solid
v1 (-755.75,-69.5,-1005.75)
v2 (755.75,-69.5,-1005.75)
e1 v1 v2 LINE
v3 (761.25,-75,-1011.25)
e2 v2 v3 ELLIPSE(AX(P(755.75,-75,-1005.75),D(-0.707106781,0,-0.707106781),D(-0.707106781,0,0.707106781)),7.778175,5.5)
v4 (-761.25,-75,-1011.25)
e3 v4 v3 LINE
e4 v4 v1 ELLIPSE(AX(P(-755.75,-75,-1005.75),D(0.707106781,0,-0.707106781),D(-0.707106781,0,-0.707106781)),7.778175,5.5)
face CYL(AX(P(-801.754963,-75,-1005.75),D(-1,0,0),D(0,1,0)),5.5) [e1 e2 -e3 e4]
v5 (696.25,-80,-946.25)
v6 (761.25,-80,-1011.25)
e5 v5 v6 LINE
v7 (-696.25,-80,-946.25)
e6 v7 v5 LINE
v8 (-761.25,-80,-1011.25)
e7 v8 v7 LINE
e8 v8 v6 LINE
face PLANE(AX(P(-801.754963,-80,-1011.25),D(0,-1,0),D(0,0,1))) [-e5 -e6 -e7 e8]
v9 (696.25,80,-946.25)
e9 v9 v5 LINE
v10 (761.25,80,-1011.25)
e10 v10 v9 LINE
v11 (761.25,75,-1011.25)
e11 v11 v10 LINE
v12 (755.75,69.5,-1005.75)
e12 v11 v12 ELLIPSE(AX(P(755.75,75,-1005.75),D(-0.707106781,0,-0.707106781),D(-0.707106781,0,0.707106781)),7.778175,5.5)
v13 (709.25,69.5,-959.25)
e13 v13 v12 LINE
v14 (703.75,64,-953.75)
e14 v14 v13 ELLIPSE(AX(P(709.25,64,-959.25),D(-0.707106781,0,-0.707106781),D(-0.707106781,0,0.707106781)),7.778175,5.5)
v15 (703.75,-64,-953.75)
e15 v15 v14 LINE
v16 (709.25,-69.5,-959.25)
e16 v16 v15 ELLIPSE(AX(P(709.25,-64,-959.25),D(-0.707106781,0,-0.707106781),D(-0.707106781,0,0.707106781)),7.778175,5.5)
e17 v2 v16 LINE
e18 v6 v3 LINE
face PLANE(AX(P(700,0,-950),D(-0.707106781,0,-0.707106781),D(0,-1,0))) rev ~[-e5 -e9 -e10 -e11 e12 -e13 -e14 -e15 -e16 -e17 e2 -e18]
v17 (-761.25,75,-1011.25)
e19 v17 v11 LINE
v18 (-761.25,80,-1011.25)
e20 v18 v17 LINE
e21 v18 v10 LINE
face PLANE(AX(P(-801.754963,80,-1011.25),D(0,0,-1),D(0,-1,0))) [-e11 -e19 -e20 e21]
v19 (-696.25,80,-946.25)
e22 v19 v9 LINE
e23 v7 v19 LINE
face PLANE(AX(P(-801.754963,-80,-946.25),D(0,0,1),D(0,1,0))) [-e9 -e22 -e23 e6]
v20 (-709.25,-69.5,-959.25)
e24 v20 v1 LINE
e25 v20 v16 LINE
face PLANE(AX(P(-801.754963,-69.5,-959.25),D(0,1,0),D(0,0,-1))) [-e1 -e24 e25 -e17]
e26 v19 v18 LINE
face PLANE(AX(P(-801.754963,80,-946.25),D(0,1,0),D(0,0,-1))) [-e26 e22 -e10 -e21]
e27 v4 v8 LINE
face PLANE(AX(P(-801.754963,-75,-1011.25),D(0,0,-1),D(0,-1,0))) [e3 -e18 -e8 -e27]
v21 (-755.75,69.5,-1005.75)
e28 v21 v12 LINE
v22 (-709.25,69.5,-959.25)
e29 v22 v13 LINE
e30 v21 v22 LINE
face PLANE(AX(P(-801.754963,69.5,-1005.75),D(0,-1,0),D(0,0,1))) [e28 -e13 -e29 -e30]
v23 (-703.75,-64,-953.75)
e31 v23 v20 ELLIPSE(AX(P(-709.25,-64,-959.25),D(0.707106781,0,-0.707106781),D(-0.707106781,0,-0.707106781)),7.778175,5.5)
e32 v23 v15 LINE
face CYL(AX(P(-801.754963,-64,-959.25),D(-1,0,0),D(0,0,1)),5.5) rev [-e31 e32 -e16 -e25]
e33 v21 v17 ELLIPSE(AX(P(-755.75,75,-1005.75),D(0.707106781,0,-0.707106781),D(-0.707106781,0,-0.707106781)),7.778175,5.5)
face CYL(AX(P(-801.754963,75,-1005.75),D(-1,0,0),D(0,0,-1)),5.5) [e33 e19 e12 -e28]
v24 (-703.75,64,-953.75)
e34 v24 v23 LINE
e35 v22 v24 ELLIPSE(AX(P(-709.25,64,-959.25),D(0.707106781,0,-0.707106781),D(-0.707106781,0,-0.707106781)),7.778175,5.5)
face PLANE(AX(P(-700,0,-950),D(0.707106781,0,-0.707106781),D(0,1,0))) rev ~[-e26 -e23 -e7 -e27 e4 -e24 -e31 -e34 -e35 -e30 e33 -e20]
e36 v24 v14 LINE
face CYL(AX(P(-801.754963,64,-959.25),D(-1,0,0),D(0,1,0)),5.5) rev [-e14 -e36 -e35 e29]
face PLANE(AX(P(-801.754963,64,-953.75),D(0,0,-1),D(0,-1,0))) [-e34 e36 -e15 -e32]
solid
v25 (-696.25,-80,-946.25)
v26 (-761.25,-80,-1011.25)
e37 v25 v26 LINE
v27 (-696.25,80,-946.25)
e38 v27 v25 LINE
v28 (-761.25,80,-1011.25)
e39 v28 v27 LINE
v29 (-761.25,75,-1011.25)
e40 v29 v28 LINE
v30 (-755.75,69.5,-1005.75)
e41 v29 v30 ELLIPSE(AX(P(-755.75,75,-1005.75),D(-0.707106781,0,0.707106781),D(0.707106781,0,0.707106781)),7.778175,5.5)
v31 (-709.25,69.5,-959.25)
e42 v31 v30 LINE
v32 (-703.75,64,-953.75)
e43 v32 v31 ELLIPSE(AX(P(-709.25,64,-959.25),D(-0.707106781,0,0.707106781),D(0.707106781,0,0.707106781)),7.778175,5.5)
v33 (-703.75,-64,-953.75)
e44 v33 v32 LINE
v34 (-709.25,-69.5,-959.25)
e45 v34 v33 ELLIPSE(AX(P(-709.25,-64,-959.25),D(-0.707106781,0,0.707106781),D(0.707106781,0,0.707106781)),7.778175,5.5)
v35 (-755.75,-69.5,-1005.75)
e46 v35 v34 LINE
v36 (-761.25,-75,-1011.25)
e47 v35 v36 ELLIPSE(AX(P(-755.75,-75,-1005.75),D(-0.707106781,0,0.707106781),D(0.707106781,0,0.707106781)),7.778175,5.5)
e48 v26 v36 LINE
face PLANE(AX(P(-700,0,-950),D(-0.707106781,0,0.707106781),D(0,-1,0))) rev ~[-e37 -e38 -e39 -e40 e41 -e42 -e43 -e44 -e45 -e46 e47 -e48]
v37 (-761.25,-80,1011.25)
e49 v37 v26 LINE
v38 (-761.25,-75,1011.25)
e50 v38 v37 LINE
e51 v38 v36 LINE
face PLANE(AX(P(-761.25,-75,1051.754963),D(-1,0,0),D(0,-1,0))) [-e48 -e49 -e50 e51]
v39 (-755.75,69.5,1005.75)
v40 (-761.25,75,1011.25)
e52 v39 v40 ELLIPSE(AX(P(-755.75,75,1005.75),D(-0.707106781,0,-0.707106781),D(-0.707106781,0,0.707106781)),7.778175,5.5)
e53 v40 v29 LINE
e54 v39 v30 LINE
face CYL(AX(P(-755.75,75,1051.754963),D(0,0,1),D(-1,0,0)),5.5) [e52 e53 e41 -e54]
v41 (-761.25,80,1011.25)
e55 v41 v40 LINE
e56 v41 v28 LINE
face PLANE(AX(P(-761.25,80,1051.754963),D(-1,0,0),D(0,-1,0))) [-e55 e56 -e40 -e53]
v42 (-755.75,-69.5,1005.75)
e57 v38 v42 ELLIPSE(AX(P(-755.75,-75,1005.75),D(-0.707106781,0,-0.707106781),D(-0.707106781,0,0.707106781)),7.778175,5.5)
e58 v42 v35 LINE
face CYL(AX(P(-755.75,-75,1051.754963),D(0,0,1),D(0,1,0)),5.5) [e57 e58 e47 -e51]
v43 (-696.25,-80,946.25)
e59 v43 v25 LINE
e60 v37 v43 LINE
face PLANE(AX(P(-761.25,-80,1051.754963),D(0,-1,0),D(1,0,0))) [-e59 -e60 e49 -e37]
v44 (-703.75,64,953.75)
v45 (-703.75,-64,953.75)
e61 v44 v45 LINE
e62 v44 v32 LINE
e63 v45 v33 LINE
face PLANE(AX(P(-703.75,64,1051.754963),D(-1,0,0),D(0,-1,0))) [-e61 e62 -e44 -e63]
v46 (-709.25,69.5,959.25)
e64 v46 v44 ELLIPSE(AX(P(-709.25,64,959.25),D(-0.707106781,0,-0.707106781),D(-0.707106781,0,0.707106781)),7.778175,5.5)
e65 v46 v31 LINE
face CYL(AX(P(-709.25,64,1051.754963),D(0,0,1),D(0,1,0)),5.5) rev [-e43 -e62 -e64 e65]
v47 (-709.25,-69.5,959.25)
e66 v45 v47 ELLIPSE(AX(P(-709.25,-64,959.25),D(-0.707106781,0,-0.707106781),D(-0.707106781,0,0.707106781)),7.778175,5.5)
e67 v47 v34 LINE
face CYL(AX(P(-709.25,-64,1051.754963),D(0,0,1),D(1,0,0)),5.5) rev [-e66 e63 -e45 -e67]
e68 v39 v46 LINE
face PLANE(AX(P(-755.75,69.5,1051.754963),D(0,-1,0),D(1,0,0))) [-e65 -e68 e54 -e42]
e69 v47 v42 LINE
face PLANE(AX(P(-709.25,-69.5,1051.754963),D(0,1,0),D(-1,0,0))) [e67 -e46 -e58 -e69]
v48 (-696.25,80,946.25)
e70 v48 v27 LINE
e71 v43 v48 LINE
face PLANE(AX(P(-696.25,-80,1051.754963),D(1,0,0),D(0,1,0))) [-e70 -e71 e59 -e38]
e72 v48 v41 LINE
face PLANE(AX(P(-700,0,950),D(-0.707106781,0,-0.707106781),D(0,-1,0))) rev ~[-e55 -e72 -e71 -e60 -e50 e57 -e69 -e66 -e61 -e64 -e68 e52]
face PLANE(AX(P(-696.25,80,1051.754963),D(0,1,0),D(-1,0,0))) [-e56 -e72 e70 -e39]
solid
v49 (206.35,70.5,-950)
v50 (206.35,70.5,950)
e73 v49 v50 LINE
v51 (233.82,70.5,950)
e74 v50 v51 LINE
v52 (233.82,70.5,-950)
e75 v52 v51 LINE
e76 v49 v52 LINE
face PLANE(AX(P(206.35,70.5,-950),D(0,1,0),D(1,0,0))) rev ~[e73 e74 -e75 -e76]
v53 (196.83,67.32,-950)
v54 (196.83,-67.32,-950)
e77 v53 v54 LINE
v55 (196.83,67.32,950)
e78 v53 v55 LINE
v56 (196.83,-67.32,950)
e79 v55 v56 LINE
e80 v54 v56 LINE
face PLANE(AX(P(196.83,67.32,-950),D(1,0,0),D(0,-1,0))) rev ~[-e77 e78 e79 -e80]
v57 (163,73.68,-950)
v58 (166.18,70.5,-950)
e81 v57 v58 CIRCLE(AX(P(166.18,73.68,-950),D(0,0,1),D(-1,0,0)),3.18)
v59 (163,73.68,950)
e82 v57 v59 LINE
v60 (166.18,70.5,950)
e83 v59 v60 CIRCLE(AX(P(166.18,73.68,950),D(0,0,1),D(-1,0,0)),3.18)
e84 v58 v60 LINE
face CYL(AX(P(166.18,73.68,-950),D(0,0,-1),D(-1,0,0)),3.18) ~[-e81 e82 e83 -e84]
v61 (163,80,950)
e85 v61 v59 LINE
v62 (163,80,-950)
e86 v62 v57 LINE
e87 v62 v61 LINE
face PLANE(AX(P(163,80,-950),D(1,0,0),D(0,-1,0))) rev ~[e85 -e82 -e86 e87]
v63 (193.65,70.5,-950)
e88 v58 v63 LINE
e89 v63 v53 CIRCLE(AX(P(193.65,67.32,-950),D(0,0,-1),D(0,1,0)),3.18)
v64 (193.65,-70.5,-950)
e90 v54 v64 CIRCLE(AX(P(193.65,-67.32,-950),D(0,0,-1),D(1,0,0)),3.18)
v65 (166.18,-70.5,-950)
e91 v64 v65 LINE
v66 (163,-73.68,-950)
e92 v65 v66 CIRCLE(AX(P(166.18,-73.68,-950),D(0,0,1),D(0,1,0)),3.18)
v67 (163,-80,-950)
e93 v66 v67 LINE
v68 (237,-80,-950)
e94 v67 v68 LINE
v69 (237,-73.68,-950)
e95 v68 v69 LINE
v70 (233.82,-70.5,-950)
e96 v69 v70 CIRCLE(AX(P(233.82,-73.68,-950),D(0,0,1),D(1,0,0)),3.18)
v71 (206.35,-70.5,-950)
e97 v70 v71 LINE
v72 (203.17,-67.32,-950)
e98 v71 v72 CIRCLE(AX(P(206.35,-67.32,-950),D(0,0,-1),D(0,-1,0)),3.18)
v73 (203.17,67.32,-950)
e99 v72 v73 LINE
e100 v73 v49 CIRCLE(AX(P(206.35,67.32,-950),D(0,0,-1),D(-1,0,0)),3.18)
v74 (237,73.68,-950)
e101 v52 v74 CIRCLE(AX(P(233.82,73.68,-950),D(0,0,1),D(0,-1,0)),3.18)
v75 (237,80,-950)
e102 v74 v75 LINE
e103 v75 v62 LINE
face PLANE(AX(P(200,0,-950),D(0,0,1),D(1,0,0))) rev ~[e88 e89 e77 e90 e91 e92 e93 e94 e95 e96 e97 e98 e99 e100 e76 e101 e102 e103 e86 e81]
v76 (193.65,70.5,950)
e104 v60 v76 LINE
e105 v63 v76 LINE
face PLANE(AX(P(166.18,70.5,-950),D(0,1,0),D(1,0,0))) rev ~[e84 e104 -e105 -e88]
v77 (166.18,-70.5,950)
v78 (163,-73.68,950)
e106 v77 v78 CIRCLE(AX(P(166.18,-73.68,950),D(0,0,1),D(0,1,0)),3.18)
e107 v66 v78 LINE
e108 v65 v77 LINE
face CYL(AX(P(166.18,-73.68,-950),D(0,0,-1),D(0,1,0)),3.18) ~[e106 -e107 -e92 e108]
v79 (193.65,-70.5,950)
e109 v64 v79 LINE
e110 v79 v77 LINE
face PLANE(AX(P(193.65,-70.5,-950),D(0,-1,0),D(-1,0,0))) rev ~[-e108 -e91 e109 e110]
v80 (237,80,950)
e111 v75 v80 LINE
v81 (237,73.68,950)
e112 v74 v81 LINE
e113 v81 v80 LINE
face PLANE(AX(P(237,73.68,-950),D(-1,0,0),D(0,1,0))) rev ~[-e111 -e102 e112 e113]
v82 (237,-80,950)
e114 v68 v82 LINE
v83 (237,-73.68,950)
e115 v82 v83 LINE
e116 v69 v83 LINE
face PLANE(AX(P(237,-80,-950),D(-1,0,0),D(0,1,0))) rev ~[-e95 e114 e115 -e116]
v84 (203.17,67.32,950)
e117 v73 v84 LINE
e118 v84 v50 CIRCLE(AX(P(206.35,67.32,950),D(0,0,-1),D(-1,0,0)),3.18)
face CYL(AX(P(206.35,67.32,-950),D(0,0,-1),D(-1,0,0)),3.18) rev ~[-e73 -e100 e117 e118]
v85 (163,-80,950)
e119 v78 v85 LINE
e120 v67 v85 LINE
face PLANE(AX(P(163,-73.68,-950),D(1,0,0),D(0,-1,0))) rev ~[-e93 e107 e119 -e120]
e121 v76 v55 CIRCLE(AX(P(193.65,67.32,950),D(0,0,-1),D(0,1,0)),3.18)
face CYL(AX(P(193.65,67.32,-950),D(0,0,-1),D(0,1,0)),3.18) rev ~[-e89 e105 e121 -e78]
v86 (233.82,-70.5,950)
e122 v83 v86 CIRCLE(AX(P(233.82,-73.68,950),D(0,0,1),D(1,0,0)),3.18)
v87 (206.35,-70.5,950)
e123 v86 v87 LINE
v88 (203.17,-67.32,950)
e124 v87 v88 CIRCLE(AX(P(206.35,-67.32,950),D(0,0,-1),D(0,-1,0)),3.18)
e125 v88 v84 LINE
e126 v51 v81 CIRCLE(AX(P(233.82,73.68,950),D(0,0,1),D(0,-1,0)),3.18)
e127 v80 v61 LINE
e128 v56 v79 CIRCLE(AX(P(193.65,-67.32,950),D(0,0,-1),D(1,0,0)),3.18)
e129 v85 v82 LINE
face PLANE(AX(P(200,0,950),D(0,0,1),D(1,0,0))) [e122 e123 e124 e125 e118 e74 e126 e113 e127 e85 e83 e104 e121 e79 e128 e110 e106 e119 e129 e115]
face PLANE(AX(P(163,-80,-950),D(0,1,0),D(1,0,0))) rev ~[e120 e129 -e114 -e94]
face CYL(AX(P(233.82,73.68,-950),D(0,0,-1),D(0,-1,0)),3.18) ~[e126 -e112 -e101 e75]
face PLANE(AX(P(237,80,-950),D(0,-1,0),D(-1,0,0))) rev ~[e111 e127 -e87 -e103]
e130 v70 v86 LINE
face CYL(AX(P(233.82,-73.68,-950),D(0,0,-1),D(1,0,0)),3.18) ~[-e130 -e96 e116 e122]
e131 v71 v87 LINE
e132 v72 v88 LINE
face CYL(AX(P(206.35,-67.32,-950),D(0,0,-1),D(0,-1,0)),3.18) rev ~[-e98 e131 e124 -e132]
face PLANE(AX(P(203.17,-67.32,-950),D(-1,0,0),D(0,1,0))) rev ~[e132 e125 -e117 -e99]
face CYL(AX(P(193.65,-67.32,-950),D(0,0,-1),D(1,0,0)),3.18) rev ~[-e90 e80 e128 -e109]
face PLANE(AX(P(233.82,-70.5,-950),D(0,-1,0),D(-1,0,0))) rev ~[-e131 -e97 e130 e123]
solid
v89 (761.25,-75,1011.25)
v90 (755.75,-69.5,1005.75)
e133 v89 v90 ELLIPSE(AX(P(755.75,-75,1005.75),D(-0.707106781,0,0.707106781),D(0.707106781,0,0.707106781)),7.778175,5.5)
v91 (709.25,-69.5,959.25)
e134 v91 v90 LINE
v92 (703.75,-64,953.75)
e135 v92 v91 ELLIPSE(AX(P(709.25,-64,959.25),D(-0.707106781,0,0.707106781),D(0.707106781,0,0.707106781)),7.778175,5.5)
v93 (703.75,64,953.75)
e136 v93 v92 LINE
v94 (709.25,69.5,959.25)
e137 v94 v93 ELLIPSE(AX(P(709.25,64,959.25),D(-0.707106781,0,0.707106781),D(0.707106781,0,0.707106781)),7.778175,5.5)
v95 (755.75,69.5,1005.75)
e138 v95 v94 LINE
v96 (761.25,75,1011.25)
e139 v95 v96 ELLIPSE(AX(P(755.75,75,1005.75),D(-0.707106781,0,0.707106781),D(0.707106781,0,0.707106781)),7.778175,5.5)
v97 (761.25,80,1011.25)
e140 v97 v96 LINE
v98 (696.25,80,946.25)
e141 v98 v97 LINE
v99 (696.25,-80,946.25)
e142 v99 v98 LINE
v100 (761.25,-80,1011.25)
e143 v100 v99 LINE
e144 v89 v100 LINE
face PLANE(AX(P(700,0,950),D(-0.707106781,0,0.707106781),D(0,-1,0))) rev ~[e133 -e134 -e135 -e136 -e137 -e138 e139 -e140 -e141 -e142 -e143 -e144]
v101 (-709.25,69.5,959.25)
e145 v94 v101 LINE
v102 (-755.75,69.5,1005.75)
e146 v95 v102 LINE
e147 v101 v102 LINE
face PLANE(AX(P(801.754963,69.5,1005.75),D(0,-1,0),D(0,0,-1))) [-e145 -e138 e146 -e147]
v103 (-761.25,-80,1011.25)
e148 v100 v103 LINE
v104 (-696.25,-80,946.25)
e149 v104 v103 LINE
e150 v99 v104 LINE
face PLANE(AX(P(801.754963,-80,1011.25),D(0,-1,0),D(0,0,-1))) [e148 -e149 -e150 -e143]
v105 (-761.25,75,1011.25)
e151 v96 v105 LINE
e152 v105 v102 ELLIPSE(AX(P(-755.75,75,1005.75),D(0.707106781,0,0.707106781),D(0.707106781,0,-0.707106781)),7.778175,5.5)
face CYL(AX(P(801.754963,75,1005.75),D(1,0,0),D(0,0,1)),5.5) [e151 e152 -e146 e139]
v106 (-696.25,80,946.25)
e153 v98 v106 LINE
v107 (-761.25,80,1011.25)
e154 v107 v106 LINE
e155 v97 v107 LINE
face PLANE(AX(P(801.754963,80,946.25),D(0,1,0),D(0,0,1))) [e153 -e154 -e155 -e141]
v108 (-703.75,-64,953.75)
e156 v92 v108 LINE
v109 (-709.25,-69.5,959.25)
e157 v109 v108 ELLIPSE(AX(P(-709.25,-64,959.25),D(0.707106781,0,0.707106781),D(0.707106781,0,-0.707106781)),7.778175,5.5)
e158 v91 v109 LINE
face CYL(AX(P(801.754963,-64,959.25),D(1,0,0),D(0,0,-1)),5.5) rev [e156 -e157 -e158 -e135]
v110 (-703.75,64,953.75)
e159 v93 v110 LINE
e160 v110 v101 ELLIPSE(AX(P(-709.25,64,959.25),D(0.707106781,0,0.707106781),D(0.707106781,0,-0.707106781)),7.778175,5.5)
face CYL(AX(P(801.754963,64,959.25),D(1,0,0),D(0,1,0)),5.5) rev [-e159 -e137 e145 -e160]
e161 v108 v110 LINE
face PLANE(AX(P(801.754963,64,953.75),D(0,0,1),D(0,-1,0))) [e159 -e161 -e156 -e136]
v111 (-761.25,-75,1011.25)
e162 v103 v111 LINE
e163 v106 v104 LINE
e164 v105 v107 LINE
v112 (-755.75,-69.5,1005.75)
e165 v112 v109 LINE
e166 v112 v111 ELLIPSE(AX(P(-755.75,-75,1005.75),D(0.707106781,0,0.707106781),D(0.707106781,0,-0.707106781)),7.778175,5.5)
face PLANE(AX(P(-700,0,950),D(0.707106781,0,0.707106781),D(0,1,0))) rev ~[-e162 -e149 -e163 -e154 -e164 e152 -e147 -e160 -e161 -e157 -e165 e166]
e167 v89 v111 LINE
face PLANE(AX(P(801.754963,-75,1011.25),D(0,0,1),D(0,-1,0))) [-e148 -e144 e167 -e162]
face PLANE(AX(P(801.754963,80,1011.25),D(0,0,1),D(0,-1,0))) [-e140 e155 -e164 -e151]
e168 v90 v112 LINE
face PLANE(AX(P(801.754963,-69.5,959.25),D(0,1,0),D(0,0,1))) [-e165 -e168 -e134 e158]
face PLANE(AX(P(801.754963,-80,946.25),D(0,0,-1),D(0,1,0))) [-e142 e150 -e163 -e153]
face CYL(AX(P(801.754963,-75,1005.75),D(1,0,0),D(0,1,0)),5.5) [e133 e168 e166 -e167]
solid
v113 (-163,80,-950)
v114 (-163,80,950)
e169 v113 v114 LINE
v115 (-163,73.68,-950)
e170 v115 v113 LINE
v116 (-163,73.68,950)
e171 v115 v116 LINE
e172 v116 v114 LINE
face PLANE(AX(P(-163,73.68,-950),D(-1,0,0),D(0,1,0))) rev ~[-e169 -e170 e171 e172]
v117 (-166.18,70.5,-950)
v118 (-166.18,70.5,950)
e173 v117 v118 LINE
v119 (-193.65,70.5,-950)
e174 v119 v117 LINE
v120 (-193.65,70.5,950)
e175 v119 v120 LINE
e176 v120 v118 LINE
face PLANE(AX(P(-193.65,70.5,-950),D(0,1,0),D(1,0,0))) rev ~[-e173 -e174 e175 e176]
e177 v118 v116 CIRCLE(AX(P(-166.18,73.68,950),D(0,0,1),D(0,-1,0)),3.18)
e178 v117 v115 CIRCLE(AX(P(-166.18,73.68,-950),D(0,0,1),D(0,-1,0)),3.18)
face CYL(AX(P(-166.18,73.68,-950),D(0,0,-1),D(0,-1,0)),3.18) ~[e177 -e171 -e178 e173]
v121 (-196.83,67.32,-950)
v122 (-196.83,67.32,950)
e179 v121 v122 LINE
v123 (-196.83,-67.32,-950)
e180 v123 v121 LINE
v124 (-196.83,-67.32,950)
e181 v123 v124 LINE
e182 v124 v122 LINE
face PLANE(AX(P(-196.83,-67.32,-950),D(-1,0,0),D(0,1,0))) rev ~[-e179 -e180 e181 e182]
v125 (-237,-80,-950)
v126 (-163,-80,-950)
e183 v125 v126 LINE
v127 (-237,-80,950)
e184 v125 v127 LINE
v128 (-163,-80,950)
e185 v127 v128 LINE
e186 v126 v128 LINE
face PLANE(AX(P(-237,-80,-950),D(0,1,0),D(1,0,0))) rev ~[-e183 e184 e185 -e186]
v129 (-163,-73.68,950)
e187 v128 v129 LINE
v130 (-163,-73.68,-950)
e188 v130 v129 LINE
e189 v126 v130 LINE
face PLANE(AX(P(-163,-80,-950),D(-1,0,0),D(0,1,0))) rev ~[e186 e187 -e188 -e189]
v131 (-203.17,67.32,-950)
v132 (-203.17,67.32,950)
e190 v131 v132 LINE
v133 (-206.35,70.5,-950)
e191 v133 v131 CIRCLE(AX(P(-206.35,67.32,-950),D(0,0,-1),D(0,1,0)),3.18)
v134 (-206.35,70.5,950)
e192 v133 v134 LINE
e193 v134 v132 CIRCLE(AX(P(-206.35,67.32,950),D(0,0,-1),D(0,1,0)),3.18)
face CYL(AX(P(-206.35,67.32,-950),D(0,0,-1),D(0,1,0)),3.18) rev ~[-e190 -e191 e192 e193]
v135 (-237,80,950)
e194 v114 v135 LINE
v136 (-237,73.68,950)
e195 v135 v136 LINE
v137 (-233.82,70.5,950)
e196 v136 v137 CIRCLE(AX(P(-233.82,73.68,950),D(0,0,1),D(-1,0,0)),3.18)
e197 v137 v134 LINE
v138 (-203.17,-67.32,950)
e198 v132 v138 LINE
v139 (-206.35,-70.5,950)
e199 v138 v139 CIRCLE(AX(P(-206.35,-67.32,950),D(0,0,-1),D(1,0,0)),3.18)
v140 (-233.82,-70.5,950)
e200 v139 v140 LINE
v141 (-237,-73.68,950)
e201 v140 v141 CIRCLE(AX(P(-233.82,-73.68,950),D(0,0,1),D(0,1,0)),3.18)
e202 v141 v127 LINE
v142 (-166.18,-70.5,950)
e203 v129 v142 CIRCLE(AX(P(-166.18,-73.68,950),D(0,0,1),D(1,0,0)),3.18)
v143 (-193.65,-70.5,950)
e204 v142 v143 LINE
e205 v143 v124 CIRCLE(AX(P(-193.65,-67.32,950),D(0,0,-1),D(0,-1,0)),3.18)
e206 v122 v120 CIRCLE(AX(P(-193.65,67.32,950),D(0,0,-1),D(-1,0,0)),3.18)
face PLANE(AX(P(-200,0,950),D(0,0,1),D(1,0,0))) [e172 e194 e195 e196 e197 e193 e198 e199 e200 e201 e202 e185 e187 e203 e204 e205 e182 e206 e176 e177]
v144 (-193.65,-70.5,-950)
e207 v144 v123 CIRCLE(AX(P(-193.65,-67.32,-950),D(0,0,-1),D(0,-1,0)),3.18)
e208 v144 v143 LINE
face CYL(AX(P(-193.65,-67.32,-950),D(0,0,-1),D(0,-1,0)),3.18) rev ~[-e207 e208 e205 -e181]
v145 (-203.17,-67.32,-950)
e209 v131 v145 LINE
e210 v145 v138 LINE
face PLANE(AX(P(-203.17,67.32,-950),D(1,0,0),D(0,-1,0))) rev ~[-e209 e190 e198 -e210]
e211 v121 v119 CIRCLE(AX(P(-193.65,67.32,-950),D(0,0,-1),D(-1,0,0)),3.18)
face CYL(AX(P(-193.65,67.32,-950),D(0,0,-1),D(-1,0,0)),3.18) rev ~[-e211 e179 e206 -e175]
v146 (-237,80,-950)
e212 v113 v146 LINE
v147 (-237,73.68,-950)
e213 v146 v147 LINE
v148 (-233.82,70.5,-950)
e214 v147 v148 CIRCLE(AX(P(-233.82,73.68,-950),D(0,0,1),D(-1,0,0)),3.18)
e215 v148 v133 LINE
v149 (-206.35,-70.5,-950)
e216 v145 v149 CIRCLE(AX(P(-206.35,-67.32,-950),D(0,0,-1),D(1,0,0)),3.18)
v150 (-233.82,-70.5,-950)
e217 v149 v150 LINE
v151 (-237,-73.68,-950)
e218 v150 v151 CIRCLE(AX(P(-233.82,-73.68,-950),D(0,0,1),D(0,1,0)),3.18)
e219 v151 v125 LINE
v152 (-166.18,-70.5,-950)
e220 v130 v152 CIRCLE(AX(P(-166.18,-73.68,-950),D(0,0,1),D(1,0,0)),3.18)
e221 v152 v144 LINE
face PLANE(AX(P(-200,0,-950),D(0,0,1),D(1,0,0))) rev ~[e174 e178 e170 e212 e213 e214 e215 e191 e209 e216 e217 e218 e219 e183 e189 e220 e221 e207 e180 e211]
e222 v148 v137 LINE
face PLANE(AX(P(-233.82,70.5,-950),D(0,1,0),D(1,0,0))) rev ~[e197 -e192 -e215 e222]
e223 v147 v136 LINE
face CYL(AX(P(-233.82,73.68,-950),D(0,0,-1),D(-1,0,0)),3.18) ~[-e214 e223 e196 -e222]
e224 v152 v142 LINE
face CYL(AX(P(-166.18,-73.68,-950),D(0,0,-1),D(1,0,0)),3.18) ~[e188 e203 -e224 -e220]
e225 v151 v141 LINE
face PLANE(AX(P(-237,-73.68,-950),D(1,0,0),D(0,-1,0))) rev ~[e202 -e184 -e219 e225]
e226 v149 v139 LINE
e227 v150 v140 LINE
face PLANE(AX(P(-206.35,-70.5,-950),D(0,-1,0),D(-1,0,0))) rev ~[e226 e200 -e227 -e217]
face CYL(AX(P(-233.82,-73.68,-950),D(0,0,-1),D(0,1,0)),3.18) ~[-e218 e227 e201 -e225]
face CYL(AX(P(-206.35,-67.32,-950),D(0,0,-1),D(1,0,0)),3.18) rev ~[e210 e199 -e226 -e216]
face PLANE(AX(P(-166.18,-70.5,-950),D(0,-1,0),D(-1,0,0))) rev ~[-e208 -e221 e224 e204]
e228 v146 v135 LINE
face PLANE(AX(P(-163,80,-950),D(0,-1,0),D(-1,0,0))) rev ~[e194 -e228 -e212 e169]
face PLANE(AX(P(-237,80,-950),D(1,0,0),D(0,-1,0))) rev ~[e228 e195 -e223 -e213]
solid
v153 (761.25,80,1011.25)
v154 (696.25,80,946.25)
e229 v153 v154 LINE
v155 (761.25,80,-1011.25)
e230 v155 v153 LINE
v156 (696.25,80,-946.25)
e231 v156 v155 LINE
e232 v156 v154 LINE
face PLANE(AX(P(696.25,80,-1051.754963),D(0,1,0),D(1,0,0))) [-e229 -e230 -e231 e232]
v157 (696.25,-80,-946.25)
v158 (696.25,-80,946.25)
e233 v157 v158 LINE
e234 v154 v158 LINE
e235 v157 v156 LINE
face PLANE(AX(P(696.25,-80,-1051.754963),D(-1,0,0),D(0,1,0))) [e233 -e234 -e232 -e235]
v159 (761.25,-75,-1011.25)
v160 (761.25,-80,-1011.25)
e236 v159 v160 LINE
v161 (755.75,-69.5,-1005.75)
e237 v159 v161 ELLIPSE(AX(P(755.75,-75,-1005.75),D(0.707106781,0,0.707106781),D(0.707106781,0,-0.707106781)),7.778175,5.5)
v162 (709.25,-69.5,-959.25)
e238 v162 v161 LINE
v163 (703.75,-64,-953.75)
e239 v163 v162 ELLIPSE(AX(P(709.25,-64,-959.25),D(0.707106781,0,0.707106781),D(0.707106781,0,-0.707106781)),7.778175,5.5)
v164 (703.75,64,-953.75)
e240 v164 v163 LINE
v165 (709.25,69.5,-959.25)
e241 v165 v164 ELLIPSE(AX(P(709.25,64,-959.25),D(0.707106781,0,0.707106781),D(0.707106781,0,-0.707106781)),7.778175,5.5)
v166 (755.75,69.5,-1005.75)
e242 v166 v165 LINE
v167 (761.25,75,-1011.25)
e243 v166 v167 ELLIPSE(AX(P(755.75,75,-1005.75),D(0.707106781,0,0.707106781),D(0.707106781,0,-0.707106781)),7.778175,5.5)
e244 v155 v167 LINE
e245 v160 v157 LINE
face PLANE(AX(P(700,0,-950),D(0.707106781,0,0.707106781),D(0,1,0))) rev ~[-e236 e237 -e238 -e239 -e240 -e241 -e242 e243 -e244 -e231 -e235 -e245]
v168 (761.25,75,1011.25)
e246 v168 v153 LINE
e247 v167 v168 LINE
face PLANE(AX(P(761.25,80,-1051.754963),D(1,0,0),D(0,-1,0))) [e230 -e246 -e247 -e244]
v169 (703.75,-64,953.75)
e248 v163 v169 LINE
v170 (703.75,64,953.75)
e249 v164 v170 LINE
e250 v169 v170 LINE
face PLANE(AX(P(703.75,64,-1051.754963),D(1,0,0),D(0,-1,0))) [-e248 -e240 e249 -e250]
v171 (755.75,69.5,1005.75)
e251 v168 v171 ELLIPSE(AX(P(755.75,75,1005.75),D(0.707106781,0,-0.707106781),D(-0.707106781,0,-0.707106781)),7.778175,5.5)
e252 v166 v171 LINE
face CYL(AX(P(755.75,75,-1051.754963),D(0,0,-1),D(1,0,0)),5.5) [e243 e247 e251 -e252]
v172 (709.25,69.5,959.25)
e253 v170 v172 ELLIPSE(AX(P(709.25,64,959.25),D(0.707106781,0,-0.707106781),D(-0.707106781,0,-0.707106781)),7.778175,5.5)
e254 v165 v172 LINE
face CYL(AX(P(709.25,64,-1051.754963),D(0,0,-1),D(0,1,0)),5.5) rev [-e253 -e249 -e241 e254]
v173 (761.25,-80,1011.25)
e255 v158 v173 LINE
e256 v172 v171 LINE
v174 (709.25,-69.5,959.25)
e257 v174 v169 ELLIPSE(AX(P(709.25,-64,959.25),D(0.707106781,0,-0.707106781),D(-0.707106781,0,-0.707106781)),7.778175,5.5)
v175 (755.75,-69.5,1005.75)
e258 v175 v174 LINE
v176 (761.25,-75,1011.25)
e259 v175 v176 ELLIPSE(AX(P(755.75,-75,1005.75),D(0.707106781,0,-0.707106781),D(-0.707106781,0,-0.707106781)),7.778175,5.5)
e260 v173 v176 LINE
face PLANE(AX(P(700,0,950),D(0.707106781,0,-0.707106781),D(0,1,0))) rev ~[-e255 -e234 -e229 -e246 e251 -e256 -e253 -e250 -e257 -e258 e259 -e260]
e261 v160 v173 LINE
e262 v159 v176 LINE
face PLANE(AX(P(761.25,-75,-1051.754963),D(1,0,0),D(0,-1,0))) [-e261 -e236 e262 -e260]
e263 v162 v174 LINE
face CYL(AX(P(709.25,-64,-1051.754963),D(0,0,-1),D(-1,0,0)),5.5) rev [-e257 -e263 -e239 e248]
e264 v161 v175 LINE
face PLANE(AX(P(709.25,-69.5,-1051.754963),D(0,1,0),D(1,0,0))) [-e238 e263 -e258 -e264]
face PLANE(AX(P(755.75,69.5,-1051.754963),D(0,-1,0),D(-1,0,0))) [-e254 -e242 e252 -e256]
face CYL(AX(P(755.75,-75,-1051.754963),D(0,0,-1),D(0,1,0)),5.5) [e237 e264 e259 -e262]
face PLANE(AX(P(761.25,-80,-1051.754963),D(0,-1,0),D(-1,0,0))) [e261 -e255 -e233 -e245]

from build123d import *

# Parameters (mm, degrees)
MIEMBRO_ESTRUCTURAL2_DEPTH      = 2001.754962657
MIEMBRO_ESTRUCTURAL2_DEPTH_BACK = 101.754962657
MIEMBRO_ESTRUCTURAL2_2_DEPTH    = 1603.509925314
MIEMBRO_ESTRUCTURAL2_3_DEPTH    = 2103.509925314
MIEMBRO_ESTRUCTURAL2_4_DEPTH    = 1603.509925314
MIEMBRO_ESTRUCTURAL4_DEPTH      = 1900
MIEMBRO_ESTRUCTURAL4_2_DEPTH    = 1900


with BuildPart() as part:
    # Croquis12 → Miembro estructural2 (new, two sides: drawn at the far end of the back side and taken through both)
    with BuildSketch(Plane(origin=(-700, 0, 950), x_dir=(-1, 0, 0), z_dir=(0, 0, -1)).offset(-MIEMBRO_ESTRUCTURAL2_DEPTH_BACK)):
        with BuildLine():
            Line((-3.75, -80), (-3.75, 80))
            Line((-3.75, 80), (61.25, 80))
            Line((61.25, 80), (61.25, 75))
            ThreePointArc((61.25, 75), (59.639087297, 71.110912703), (55.75, 69.5))
            Line((55.75, 69.5), (9.25, 69.5))
            ThreePointArc((9.25, 69.5), (5.360912703, 67.889087297), (3.75, 64))
            Line((3.75, 64), (3.75, -64))
            ThreePointArc((3.75, -64), (5.360912703, -67.889087297), (9.25, -69.5))
            Line((9.25, -69.5), (55.75, -69.5))
            ThreePointArc((55.75, -69.5), (59.639087297, -71.110912703), (61.25, -75))
            Line((61.25, -75), (61.25, -80))
            Line((61.25, -80), (-3.75, -80))
        make_face()
    extrude(amount=MIEMBRO_ESTRUCTURAL2_DEPTH + MIEMBRO_ESTRUCTURAL2_DEPTH_BACK)

    # Miembro estructural2 mitre 1
    split(bisect_by=Plane(origin=(-700, 0, 950), x_dir=(0, -1, 0), z_dir=(-0.707106781, 0, -0.707106781)), keep=Keep.TOP)

    # Miembro estructural2 mitre 2
    split(bisect_by=Plane(origin=(-700, 0, -950), x_dir=(0, -1, 0), z_dir=(-0.707106781, 0, 0.707106781)), keep=Keep.TOP)


with BuildPart() as body_2:
    # Croquis12 on segment 2 (carried to segment 2) → Miembro estructural2 2 (new body)
    with BuildSketch(Plane(origin=(-801.754962657, 0, -950), x_dir=(0, 0, -1), z_dir=(1, 0, 0))):
        with BuildLine():
            Line((-3.75, -80), (-3.75, 80))
            Line((-3.75, 80), (61.25, 80))
            Line((61.25, 80), (61.25, 75))
            ThreePointArc((61.25, 75), (59.639087297, 71.110912703), (55.75, 69.5))
            Line((55.75, 69.5), (9.25, 69.5))
            ThreePointArc((9.25, 69.5), (5.360912703, 67.889087297), (3.75, 64))
            Line((3.75, 64), (3.75, -64))
            ThreePointArc((3.75, -64), (5.360912703, -67.889087297), (9.25, -69.5))
            Line((9.25, -69.5), (55.75, -69.5))
            ThreePointArc((55.75, -69.5), (59.639087297, -71.110912703), (61.25, -75))
            Line((61.25, -75), (61.25, -80))
            Line((61.25, -80), (-3.75, -80))
        make_face()
    extrude(amount=MIEMBRO_ESTRUCTURAL2_2_DEPTH)

    # Miembro estructural2 2 mitre 1
    split(bisect_by=Plane(origin=(-700, 0, -950), x_dir=(0, 1, 0), z_dir=(0.707106781, 0, -0.707106781)), keep=Keep.TOP)

    # Miembro estructural2 2 mitre 2
    split(bisect_by=Plane(origin=(700, 0, -950), x_dir=(0, -1, 0), z_dir=(-0.707106781, 0, -0.707106781)), keep=Keep.TOP)


with BuildPart() as body_3:
    # Croquis12 on segment 3 (carried to segment 3) → Miembro estructural2 3 (new body)
    with BuildSketch(Plane(origin=(700, 0, -1051.754962657), x_dir=(1, 0, 0), z_dir=(0, 0, 1))):
        with BuildLine():
            Line((-3.75, -80), (-3.75, 80))
            Line((-3.75, 80), (61.25, 80))
            Line((61.25, 80), (61.25, 75))
            ThreePointArc((61.25, 75), (59.639087297, 71.110912703), (55.75, 69.5))
            Line((55.75, 69.5), (9.25, 69.5))
            ThreePointArc((9.25, 69.5), (5.360912703, 67.889087297), (3.75, 64))
            Line((3.75, 64), (3.75, -64))
            ThreePointArc((3.75, -64), (5.360912703, -67.889087297), (9.25, -69.5))
            Line((9.25, -69.5), (55.75, -69.5))
            ThreePointArc((55.75, -69.5), (59.639087297, -71.110912703), (61.25, -75))
            Line((61.25, -75), (61.25, -80))
            Line((61.25, -80), (-3.75, -80))
        make_face()
    extrude(amount=MIEMBRO_ESTRUCTURAL2_3_DEPTH)

    # Miembro estructural2 3 mitre 1
    split(bisect_by=Plane(origin=(700, 0, 950), x_dir=(0, 1, 0), z_dir=(0.707106781, 0, -0.707106781)), keep=Keep.TOP)

    # Miembro estructural2 3 mitre 2
    split(bisect_by=Plane(origin=(700, 0, -950), x_dir=(0, 1, 0), z_dir=(0.707106781, 0, 0.707106781)), keep=Keep.TOP)


with BuildPart() as body_4:
    # Croquis12 on segment 4 (carried to segment 4) → Miembro estructural2 4 (new body)
    with BuildSketch(Plane(origin=(801.754962657, 0, 950), x_dir=(0, 0, 1), z_dir=(-1, 0, 0))):
        with BuildLine():
            Line((-3.75, -80), (-3.75, 80))
            Line((-3.75, 80), (61.25, 80))
            Line((61.25, 80), (61.25, 75))
            ThreePointArc((61.25, 75), (59.639087297, 71.110912703), (55.75, 69.5))
            Line((55.75, 69.5), (9.25, 69.5))
            ThreePointArc((9.25, 69.5), (5.360912703, 67.889087297), (3.75, 64))
            Line((3.75, 64), (3.75, -64))
            ThreePointArc((3.75, -64), (5.360912703, -67.889087297), (9.25, -69.5))
            Line((9.25, -69.5), (55.75, -69.5))
            ThreePointArc((55.75, -69.5), (59.639087297, -71.110912703), (61.25, -75))
            Line((61.25, -75), (61.25, -80))
            Line((61.25, -80), (-3.75, -80))
        make_face()
    extrude(amount=MIEMBRO_ESTRUCTURAL2_4_DEPTH)

    # Miembro estructural2 4 mitre 1
    split(bisect_by=Plane(origin=(-700, 0, 950), x_dir=(0, 1, 0), z_dir=(0.707106781, 0, 0.707106781)), keep=Keep.TOP)

    # Miembro estructural2 4 mitre 2
    split(bisect_by=Plane(origin=(700, 0, 950), x_dir=(0, -1, 0), z_dir=(-0.707106781, 0, 0.707106781)), keep=Keep.TOP)


with BuildPart() as body_5:
    # Croquis2 → Miembro estructural4 (new body)
    with BuildSketch(Plane(origin=(-200, 0, -950), x_dir=(1, 0, 0), z_dir=(0, 0, 1))):
        with BuildLine():
            Line((37, 80), (-37, 80))
            Line((-37, 80), (-37, 73.68))
            ThreePointArc((-37, 73.68), (-36.068599564, 71.431400436), (-33.82, 70.5))
            Line((-33.82, 70.5), (-6.35, 70.5))
            ThreePointArc((-6.35, 70.5), (-4.101400436, 69.568599564), (-3.17, 67.32))
            Line((-3.17, 67.32), (-3.17, -67.32))
            ThreePointArc((-3.17, -67.32), (-4.101400436, -69.568599564), (-6.35, -70.5))
            Line((-6.35, -70.5), (-33.82, -70.5))
            ThreePointArc((-33.82, -70.5), (-36.068599564, -71.431400436), (-37, -73.68))
            Line((-37, -73.68), (-37, -80))
            Line((-37, -80), (37, -80))
            Line((37, -80), (37, -73.68))
            ThreePointArc((37, -73.68), (36.068599564, -71.431400436), (33.82, -70.5))
            Line((33.82, -70.5), (6.35, -70.5))
            ThreePointArc((6.35, -70.5), (4.101400436, -69.568599564), (3.17, -67.32))
            Line((3.17, -67.32), (3.17, 67.32))
            ThreePointArc((3.17, 67.32), (4.101400436, 69.568599564), (6.35, 70.5))
            Line((6.35, 70.5), (33.82, 70.5))
            ThreePointArc((33.82, 70.5), (36.068599564, 71.431400436), (37, 73.68))
            Line((37, 73.68), (37, 80))
        make_face()
    extrude(amount=MIEMBRO_ESTRUCTURAL4_DEPTH)


with BuildPart() as body_6:
    # Croquis2 on segment 2 (carried to segment 2) → Miembro estructural4 2 (new body)
    with BuildSketch(Plane(origin=(200, 0, -950), x_dir=(1, 0, 0), z_dir=(0, 0, 1))):
        with BuildLine():
            Line((37, 80), (-37, 80))
            Line((-37, 80), (-37, 73.68))
            ThreePointArc((-37, 73.68), (-36.068599564, 71.431400436), (-33.82, 70.5))
            Line((-33.82, 70.5), (-6.35, 70.5))
            ThreePointArc((-6.35, 70.5), (-4.101400436, 69.568599564), (-3.17, 67.32))
            Line((-3.17, 67.32), (-3.17, -67.32))
            ThreePointArc((-3.17, -67.32), (-4.101400436, -69.568599564), (-6.35, -70.5))
            Line((-6.35, -70.5), (-33.82, -70.5))
            ThreePointArc((-33.82, -70.5), (-36.068599564, -71.431400436), (-37, -73.68))
            Line((-37, -73.68), (-37, -80))
            Line((-37, -80), (37, -80))
            Line((37, -80), (37, -73.68))
            ThreePointArc((37, -73.68), (36.068599564, -71.431400436), (33.82, -70.5))
            Line((33.82, -70.5), (6.35, -70.5))
            ThreePointArc((6.35, -70.5), (4.101400436, -69.568599564), (3.17, -67.32))
            Line((3.17, -67.32), (3.17, 67.32))
            ThreePointArc((3.17, 67.32), (4.101400436, 69.568599564), (6.35, 70.5))
            Line((6.35, 70.5), (33.82, 70.5))
            ThreePointArc((33.82, 70.5), (36.068599564, 71.431400436), (37, 73.68))
            Line((37, 73.68), (37, 80))
        make_face()
    extrude(amount=MIEMBRO_ESTRUCTURAL4_2_DEPTH)


solid = Compound([part.part, body_2.part, body_3.part, body_4.part, body_5.part, body_6.part])
